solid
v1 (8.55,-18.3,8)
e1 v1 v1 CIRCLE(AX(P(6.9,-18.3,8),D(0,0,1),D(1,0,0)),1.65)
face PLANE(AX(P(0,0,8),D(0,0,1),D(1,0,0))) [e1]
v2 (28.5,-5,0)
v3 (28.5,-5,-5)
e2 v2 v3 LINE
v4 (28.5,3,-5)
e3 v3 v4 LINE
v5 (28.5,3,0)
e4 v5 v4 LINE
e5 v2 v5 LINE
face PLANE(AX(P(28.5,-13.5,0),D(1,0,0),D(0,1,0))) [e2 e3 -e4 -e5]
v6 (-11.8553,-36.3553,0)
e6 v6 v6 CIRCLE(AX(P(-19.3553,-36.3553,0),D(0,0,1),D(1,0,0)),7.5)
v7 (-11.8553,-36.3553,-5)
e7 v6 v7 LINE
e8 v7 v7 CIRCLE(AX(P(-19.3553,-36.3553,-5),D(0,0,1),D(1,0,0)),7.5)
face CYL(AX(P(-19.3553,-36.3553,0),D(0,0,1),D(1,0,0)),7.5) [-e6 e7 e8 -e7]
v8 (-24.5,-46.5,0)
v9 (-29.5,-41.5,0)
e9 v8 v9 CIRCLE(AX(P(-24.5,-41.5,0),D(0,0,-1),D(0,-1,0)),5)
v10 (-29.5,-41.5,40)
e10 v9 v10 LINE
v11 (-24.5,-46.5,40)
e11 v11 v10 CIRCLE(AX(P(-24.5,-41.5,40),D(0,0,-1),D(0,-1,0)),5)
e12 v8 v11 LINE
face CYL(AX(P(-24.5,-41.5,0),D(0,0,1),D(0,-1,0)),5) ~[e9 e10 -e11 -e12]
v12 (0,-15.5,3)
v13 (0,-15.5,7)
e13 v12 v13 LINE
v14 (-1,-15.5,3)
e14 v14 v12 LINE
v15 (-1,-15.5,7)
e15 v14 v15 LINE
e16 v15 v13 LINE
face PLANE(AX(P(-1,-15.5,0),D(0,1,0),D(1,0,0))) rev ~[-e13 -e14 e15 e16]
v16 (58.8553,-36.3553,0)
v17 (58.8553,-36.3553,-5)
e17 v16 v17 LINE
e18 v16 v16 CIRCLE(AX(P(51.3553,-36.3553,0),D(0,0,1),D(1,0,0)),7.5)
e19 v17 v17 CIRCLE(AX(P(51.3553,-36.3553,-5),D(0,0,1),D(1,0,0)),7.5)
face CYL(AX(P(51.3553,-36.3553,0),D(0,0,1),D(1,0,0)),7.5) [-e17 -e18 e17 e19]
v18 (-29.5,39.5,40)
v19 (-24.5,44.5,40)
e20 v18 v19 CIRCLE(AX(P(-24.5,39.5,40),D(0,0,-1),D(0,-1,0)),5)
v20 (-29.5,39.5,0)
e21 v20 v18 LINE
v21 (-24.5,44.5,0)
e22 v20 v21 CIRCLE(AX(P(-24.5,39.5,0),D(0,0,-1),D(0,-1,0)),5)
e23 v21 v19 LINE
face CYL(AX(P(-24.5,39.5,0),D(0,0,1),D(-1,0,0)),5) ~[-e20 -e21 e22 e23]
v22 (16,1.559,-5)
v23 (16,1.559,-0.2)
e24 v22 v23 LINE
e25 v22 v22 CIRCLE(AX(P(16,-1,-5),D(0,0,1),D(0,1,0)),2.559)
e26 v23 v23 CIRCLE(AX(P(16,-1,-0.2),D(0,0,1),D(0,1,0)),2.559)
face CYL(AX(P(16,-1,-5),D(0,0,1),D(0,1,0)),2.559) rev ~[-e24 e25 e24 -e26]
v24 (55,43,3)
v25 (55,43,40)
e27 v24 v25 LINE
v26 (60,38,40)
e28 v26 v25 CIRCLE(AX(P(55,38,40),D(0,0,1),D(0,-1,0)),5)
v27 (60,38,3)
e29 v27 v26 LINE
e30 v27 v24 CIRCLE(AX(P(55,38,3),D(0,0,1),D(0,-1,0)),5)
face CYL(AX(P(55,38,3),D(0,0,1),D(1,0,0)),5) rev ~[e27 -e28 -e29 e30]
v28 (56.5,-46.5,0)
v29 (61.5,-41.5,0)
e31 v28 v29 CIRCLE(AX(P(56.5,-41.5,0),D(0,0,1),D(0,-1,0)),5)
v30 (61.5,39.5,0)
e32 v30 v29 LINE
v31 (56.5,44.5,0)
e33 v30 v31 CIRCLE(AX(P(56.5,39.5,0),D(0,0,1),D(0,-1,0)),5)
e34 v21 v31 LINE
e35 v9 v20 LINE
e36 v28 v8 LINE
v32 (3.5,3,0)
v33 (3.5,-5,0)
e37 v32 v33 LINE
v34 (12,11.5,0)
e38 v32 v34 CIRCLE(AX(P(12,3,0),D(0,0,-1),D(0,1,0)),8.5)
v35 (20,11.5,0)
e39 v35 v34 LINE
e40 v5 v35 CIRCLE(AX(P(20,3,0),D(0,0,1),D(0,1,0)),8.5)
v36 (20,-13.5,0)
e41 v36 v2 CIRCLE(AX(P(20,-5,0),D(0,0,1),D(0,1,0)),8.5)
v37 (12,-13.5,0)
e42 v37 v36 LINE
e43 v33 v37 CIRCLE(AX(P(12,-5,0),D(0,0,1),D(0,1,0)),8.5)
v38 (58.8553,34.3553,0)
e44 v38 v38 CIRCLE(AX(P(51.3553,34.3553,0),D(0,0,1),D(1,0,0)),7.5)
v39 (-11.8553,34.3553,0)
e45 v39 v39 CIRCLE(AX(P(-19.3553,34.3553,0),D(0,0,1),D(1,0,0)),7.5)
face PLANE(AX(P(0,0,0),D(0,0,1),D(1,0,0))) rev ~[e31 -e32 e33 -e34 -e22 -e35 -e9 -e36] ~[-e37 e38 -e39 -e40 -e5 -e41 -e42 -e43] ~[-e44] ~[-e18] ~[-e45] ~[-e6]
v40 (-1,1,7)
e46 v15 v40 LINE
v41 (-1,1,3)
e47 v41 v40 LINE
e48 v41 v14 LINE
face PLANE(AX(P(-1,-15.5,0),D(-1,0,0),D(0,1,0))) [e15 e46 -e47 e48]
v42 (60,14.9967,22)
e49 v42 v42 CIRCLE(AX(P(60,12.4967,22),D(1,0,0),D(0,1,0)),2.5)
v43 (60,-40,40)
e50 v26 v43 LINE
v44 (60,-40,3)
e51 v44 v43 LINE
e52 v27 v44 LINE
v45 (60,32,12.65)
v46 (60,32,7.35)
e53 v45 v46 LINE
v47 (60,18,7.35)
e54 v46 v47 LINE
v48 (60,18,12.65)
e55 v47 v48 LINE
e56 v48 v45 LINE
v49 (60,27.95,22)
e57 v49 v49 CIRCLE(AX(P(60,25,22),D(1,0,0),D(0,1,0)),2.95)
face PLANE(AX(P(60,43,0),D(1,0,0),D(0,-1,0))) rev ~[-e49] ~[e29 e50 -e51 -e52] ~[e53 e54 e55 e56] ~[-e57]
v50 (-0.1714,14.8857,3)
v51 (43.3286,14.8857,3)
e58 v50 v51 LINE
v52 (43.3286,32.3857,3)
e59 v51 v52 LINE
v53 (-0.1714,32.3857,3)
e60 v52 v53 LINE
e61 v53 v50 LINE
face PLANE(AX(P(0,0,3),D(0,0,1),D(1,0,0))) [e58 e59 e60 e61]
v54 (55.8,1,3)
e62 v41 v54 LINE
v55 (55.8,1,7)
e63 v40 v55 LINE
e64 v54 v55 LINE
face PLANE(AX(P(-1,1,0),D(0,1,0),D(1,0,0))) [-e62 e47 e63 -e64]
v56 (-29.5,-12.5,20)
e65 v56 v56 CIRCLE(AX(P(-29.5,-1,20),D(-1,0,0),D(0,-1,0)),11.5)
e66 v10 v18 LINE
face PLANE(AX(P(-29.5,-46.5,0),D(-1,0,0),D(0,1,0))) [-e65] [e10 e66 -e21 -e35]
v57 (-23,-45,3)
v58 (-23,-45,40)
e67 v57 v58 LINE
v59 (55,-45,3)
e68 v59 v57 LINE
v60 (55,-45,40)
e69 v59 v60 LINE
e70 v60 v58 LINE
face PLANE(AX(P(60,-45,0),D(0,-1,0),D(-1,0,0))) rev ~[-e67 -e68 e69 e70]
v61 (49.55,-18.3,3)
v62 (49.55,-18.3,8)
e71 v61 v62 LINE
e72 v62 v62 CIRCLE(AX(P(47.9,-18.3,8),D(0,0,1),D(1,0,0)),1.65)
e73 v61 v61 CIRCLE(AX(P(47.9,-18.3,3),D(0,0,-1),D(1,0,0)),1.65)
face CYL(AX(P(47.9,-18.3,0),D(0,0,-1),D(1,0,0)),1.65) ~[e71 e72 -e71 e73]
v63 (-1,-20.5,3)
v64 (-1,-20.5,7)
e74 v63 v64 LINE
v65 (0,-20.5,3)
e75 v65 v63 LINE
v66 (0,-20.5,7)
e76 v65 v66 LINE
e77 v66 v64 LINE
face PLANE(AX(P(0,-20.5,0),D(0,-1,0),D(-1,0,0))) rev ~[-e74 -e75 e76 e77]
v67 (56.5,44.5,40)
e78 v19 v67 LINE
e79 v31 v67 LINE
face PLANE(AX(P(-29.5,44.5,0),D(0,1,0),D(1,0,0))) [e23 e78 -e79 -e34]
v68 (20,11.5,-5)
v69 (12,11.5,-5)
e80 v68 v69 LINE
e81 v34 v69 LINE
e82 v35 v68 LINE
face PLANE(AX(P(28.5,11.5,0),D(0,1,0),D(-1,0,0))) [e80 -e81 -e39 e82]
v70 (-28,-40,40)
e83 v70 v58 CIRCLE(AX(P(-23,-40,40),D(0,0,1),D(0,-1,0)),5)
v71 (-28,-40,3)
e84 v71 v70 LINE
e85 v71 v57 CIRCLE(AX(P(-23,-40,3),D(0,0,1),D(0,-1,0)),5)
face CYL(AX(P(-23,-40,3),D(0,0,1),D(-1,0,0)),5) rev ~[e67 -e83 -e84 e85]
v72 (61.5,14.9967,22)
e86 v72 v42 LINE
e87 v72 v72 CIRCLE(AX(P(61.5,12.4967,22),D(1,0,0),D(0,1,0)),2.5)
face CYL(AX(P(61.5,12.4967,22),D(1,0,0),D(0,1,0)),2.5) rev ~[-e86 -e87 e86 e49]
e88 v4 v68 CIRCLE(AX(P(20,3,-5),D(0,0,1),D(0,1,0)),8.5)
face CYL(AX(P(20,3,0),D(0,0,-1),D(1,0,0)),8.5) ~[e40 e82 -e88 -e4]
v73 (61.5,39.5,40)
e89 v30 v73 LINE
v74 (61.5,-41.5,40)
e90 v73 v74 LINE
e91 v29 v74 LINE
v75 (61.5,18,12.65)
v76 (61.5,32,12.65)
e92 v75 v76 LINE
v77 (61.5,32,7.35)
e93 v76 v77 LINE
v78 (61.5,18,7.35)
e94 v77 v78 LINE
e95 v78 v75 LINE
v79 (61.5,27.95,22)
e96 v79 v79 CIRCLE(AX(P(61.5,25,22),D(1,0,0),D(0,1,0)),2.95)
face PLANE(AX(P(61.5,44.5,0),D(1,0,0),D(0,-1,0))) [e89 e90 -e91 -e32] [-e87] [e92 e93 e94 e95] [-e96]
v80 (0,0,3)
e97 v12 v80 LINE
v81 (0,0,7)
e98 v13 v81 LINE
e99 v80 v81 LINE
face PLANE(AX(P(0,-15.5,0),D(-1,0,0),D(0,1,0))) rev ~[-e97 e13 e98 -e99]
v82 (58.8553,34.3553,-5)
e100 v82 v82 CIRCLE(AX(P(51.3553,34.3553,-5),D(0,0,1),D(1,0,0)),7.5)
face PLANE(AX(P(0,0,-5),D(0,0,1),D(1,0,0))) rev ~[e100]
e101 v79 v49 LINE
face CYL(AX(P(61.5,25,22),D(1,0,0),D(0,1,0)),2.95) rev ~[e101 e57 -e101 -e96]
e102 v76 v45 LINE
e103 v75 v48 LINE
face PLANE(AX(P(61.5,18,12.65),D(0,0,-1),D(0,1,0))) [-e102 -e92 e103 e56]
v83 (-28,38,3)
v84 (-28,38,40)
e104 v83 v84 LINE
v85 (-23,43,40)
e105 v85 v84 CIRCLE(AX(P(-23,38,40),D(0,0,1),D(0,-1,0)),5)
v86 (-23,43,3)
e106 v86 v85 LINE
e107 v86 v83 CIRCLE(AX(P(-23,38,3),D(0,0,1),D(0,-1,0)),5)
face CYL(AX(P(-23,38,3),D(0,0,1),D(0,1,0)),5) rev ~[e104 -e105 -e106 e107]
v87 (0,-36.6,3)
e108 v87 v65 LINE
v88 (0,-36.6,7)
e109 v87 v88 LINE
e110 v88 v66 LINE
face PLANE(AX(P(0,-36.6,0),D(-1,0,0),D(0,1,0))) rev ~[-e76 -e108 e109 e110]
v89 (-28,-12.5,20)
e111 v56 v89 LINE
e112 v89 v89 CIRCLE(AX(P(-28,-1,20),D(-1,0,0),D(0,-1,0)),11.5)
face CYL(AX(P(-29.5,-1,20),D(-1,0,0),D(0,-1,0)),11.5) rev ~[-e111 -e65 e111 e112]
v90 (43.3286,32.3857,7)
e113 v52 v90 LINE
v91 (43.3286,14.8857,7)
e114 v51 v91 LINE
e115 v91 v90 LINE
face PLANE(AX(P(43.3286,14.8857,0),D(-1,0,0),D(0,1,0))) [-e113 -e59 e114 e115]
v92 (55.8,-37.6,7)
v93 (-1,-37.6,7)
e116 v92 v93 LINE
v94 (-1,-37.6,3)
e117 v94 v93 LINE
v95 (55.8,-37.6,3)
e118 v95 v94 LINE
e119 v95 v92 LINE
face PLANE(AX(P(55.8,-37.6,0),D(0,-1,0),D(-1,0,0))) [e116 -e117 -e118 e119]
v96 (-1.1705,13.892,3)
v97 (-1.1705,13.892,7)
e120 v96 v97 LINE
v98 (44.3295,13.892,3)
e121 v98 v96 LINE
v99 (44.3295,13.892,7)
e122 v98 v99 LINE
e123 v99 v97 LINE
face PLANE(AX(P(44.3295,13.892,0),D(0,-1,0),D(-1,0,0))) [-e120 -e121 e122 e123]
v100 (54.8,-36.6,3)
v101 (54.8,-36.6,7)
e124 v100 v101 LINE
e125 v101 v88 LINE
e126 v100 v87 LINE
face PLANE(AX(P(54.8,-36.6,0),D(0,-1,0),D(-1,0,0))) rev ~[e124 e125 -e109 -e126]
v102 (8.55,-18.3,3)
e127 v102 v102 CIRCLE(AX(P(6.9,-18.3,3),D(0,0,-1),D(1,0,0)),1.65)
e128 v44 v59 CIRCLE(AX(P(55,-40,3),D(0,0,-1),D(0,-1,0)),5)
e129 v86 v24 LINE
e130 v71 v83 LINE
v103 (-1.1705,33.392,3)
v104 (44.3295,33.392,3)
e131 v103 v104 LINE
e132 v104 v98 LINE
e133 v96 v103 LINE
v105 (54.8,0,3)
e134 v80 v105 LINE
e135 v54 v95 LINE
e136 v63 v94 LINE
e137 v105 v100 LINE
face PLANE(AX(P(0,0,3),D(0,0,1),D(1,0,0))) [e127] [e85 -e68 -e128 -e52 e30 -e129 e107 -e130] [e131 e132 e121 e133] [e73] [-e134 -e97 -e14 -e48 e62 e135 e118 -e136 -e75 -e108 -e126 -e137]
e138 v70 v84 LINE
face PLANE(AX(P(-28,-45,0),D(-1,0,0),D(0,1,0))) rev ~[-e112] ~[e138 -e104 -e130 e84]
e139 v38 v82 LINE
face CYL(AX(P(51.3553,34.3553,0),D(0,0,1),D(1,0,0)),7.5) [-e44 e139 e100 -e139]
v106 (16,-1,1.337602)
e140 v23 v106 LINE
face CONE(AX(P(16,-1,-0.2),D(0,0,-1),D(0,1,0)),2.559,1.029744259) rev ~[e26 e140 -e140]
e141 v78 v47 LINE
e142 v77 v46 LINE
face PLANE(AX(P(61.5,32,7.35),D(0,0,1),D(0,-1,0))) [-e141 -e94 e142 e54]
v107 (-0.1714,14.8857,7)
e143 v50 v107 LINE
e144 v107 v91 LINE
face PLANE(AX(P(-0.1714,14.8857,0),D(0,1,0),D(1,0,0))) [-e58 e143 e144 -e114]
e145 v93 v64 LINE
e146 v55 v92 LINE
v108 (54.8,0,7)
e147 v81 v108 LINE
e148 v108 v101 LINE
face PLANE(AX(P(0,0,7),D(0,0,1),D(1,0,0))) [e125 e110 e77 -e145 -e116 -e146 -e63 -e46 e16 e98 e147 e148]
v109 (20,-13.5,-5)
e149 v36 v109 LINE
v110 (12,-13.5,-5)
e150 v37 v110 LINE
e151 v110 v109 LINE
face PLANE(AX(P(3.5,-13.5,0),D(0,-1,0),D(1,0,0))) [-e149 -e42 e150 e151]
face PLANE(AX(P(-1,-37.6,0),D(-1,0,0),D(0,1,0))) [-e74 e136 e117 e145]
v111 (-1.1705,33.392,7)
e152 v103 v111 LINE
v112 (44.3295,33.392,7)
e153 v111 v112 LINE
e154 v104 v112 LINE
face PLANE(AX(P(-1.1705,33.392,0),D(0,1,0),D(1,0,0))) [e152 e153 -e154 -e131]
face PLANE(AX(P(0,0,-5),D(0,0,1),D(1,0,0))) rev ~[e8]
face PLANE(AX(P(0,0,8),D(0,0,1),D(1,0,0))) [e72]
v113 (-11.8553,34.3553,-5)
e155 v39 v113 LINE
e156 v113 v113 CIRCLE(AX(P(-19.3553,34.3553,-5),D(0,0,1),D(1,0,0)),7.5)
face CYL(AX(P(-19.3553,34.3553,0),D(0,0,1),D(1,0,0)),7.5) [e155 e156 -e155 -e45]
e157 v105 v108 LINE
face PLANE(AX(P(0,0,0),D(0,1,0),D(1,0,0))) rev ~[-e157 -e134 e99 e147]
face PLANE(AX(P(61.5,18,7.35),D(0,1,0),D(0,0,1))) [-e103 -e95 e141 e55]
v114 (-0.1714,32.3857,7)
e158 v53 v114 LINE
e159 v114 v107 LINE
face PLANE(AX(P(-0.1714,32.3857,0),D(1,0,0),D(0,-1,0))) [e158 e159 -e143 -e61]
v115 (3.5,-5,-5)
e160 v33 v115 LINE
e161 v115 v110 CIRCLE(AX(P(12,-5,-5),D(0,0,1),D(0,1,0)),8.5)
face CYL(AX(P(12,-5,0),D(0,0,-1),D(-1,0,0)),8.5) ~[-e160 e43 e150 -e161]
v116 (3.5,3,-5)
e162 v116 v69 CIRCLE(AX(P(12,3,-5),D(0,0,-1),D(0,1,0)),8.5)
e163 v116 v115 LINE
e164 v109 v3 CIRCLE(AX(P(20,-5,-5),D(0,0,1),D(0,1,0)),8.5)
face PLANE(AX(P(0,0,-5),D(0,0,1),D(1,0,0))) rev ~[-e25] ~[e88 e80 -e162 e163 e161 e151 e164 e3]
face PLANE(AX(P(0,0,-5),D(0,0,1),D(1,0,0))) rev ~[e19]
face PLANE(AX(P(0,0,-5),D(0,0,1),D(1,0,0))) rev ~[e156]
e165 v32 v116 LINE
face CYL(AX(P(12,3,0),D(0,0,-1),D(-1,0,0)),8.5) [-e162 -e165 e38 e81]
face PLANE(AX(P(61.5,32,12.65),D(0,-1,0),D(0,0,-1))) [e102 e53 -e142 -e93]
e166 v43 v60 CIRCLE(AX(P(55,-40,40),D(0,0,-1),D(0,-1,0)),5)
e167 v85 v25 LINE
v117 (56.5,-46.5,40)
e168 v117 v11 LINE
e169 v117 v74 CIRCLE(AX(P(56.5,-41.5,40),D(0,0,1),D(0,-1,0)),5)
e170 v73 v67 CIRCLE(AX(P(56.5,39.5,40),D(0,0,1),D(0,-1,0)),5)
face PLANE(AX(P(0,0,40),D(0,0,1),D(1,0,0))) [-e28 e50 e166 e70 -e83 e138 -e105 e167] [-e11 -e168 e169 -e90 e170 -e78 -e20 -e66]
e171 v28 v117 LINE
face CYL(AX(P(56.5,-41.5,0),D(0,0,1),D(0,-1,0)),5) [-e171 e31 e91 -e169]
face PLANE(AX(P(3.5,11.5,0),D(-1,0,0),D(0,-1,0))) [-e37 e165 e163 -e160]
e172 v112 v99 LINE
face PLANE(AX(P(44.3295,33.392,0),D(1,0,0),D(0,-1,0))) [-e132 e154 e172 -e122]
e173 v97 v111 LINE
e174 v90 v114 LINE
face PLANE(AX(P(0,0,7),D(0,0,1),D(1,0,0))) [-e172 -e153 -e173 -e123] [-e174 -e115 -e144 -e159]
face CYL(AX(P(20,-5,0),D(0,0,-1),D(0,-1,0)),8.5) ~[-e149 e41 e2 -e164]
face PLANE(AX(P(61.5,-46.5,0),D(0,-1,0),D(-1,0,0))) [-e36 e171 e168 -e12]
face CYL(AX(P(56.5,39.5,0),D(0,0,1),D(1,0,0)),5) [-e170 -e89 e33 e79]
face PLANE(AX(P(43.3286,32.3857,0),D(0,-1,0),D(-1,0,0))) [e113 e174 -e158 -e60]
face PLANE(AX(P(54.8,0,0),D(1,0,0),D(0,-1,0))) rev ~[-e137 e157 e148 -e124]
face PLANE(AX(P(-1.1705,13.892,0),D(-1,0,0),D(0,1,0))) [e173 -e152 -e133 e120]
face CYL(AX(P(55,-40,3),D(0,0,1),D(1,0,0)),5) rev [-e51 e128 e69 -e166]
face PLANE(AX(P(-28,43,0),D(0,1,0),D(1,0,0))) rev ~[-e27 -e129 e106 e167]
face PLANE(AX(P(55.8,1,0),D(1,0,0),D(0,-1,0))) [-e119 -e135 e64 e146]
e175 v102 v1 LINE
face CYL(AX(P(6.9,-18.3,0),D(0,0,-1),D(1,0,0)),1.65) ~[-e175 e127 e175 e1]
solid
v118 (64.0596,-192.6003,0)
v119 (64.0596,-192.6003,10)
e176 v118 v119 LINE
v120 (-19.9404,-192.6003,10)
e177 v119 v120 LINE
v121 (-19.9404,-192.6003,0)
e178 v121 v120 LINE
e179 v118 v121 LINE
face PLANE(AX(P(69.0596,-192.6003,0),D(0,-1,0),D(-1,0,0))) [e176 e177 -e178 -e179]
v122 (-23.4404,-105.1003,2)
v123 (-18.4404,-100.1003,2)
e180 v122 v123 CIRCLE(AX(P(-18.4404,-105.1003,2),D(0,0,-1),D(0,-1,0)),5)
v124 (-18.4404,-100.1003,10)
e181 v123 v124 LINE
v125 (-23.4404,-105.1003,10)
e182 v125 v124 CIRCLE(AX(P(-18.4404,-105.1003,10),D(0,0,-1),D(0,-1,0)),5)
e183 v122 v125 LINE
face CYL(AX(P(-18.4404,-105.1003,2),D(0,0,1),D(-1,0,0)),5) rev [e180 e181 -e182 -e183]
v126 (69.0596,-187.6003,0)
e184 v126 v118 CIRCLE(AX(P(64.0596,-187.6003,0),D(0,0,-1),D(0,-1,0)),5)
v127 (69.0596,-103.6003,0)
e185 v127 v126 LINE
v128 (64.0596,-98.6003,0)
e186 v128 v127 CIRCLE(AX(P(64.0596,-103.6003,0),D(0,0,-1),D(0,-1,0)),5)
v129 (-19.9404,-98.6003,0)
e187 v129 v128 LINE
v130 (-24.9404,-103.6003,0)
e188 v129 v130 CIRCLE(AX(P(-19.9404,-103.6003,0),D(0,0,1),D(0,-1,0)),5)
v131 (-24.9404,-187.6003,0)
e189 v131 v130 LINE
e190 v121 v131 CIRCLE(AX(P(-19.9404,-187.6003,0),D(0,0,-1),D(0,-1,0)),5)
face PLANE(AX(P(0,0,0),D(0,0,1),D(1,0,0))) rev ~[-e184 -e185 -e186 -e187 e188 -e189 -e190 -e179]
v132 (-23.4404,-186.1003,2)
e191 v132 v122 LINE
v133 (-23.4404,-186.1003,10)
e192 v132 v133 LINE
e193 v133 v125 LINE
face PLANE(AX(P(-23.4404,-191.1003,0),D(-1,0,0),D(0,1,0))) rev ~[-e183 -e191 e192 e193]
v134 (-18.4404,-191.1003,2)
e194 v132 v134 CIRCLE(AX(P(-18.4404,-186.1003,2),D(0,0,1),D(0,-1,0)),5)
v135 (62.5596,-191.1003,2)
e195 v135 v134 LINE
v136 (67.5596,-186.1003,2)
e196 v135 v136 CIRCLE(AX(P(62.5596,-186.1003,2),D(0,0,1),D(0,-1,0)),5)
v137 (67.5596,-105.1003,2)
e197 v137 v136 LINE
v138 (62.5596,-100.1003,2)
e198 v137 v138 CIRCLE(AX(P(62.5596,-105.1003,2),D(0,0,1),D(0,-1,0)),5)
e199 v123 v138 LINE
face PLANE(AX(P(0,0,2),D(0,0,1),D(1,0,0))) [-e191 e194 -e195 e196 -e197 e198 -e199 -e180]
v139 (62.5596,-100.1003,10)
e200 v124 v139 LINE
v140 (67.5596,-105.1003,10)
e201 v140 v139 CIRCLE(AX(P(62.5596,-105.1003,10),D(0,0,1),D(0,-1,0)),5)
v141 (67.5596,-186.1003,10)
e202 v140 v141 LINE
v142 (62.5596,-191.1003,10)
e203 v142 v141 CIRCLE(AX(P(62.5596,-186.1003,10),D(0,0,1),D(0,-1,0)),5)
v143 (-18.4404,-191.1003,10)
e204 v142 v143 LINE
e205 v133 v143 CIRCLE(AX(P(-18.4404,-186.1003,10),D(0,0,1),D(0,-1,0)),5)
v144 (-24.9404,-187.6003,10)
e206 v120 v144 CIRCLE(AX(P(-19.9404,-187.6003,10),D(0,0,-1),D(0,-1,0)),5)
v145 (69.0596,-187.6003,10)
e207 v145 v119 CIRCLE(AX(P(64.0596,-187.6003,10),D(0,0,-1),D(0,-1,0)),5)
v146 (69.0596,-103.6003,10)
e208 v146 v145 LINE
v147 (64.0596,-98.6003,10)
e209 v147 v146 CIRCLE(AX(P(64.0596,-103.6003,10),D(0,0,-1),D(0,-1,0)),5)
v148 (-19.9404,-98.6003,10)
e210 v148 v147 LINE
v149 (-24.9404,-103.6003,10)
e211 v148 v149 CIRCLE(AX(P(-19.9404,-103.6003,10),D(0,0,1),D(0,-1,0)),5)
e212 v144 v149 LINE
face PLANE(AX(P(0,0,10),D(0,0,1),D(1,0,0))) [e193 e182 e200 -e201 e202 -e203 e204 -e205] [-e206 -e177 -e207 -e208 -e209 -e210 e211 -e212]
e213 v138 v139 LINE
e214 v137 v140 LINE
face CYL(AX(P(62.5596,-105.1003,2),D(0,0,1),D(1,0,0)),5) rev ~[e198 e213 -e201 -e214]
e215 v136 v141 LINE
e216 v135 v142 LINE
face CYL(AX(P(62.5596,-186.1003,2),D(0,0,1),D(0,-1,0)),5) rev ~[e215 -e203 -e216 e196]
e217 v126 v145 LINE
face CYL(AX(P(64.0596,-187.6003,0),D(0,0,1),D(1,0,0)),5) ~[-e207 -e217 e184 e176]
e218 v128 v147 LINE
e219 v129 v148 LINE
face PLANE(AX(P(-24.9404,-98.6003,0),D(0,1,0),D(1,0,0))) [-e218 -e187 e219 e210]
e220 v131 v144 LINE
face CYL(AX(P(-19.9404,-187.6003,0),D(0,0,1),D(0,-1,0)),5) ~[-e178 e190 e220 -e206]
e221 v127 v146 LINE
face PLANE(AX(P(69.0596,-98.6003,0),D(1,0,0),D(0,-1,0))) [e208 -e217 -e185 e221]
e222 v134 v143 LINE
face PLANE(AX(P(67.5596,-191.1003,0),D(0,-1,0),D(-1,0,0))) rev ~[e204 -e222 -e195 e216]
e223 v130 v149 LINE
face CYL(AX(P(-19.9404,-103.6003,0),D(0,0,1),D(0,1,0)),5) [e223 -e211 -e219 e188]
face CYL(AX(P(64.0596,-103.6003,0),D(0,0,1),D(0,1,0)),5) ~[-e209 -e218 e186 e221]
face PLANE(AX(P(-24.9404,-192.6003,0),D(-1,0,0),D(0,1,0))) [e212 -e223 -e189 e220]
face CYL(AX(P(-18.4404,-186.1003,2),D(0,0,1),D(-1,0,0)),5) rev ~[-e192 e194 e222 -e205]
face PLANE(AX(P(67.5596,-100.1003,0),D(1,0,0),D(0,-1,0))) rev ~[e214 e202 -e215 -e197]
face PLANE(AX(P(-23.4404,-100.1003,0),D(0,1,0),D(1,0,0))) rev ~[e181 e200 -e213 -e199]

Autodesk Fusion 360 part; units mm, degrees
sketch "Sketch1" plane through (0, 0, 0) normal (0, 0, 1) x (1, 0, 0)
  line L0 (0, 0) -> (54.8, 0)
  line L1 (54.8, 0) -> (54.8, -36.6)
  line L2 (54.8, -36.6) -> (0, -36.6)
  line L3 (0, -36.6) -> (0, 0)
  line L4 (-0.1714, 14.8857) -> (43.3286, 14.8857)
  line L5 (43.3286, 14.8857) -> (43.3286, 32.3857)
  line L6 (43.3286, 32.3857) -> (-0.1714, 32.3857)
  line L7 (-0.1714, 32.3857) -> (-0.1714, 14.8857)
  line L8 (44.3295, 13.892) -> (-1.1705, 13.892)
  line L9 (-1.1705, 13.892) -> (-1.1705, 33.392)
  line L10 (-1.1705, 33.392) -> (44.3295, 33.392)
  line L11 (44.3295, 33.392) -> (44.3295, 13.892)
  line L12 (44.3295, 13.892) -> (-1.1705, 33.392) construction
  line L13 (-1.1705, 13.892) -> (44.3295, 33.392) construction
  line L14 (55.8, -37.6) -> (-1, -37.6)
  line L15 (-1, -37.6) -> (-1, 1)
  line L16 (-1, 1) -> (55.8, 1)
  line L17 (55.8, 1) -> (55.8, -37.6)
  line L18 (55.8, -37.6) -> (-1, 1) construction
  line L19 (-1, -37.6) -> (55.8, 1) construction
  line L20 (60, -45) -> (-28, -45)
  line L21 (-28, -45) -> (-28, 43)
  line L22 (-28, 43) -> (60, 43)
  line L23 (60, 43) -> (60, -45)
  line L24 (60, 43) -> (-28, -45) construction
  line L25 (-28, 43) -> (60, -45) construction
  line L26 (61.5, -46.5) -> (-29.5, -46.5)
  line L27 (-29.5, -46.5) -> (-29.5, 44.5)
  line L28 (-29.5, 44.5) -> (61.5, 44.5)
  line L29 (61.5, 44.5) -> (61.5, -46.5)
  line L30 (61.5, -46.5) -> (-29.5, 44.5) construction
  line L31 (-29.5, -46.5) -> (61.5, 44.5) construction
  line L32 (-23.4404, -100.1003) -> (67.5596, -100.1003)
  line L33 (67.5596, -100.1003) -> (67.5596, -191.1003)
  line L34 (67.5596, -191.1003) -> (-23.4404, -191.1003)
  line L35 (-23.4404, -191.1003) -> (-23.4404, -100.1003)
  line L36 (67.5596, -191.1003) -> (-23.4404, -100.1003) construction
  line L37 (-23.4404, -191.1003) -> (67.5596, -100.1003) construction
  line L38 (-24.9404, -98.6003) -> (69.0596, -98.6003)
  line L39 (69.0596, -98.6003) -> (69.0596, -192.6003)
  line L40 (69.0596, -192.6003) -> (-24.9404, -192.6003)
  line L41 (-24.9404, -192.6003) -> (-24.9404, -98.6003)
  line L42 (-24.9404, -98.6003) -> (69.0596, -192.6003) construction
  line L43 (69.0596, -98.6003) -> (-24.9404, -192.6003) construction
  line L44 (6.9, -18.3) -> (47.9, -18.3) construction
  circle A0 centre (47.9, -18.3) radius 1.65
  circle A1 centre (6.9, -18.3) radius 1.65
  line L45 (-1, -15.5) -> (0, -15.5)
  line L46 (0, -15.5) -> (0, -20.5)
  line L47 (0, -20.5) -> (-1, -20.5)
  line L48 (-1, -20.5) -> (-1, -15.5)
  line L49 (-1, -15.5) -> (0, -20.5) construction
  line L50 (0, -15.5) -> (-1, -20.5) construction
  point P0 (21.5795, 23.642)
  point P1 (27.4, -18.3)
  point P2 (16, -1)
  point P3 (22.0596, -145.6003)
  point P4 (22.0596, -145.6003)
  point P5 (-0.5, -18)
  dimension "d1" = 54.8
  dimension "d2" = 36.6
  dimension "d3" = 43.5
  dimension "d4" = 17.5
  dimension "d5" = 45.5
  dimension "d6" = 19.5
  dimension "d7" = 56.8
  dimension "d8" = 38.6
  dimension "d9" = 88
  dimension "d10" = 88
  dimension "d11" = 91
  dimension "d12" = 91
  dimension "d33" = 91
  dimension "d34" = 91
  dimension "d35" = 94
  dimension "d36" = 94
  dimension "d46" = 20.5
  dimension "d47" = 41
  dimension "d48" = 3.3
  dimension "d49" = 3.3
  dimension "d52" = 5
extrude "Extrude1" add sketch "Sketch1" along normal blind 40 contours L26 L27 L28 L29 makes body 1
extrude "Extrude2" add sketch "Sketch1" along normal blind 3 contours L20 L21 L22 L23 bodies 1
extrude "Extrude3" add sketch "Sketch1" along normal blind 7 contours L0 L1 L2 L3 L14 L15 L16 L17 L45 L47 | L8 L9 L10 L11 bodies 1
extrude "Extrude4" add sketch "Sketch1" along normal blind 3 contours L0 L1 L2 L3 L46 | L4 L5 L6 L7 | A0 | A1 bodies 1
sketch "Sketch2" plane through (-29.5, 0, 0) normal (-1, 0, 0) x (0, -1, 0)
  line L0 (-44.5, 0) -> (46.5, 0)
  line L1 (46.5, 0) -> (46.5, 40)
  line L2 (46.5, 40) -> (-44.5, 40)
  line L3 (-44.5, 40) -> (-44.5, 0)
  line L4 (-44.5, 40) -> (46.5, 0) construction
  line L5 (46.5, 40) -> (-44.5, 0) construction
  circle A0 centre (1, 20) radius 11.5
  dimension "d21" = 23
extrude "Extrude5" cut sketch "Sketch2" against normal up to surface (1.5 mm away) contours A0 bodies 1
sketch "Sketch3" plane through (61.5, 0, 0) normal (1, 0, 0) x (0, 1, 0)
  line L0 (-46.5, 0) -> (44.5, 0)
  line L1 (44.5, 0) -> (44.5, 40)
  line L2 (44.5, 40) -> (-46.5, 40)
  line L3 (-46.5, 40) -> (-46.5, 0)
  line L4 (32, 7.35) -> (18, 7.35)
  line L5 (18, 7.35) -> (18, 12.65)
  line L6 (18, 12.65) -> (32, 12.65)
  line L7 (32, 12.65) -> (32, 7.35)
  line L8 (32, 7.35) -> (18, 12.65) construction
  line L9 (18, 7.35) -> (32, 12.65) construction
  circle A0 centre (25, 22) radius 2.95
  circle A1 centre (12.4967, 22) radius 2.5
  point P0 (25, 10)
  dimension "d24" = 14
  dimension "d25" = 5.3
  dimension "d28" = 5.9
  dimension "d43" = 5
extrude "Extrude6" cut sketch "Sketch3" against normal up to surface (1.5 mm away) contours L4 L5 L6 L7 bodies 1
extrude "Extrude7" cut sketch "Sketch3" against normal up to surface (1.5 mm away) contours A0 bodies 1
fillet "Fillet1" radius 5 8 edges at (61.5, 44.5, 20) (60, 43, 21.5) (-28, 43, 21.5) (-29.5, 44.5, 20) (-28, -45, 21.5) (-29.5, -46.5, 20) (61.5, -46.5, 20) (60, -45, 21.5) on bodies 1
extrude "Extrude8" add sketch "Sketch1" along normal blind 2 separate body contours L32 L33 L34 L35 makes body 2
extrude "Extrude9" add sketch "Sketch1" along normal blind 10 contours L38 L39 L40 L41 bodies 2
fillet "Fillet2" radius 5 8 edges at (-23.4404, -191.1003, 6) (-24.9404, -98.6003, 5) (-23.4404, -100.1003, 6) (-24.9404, -192.6003, 5) (67.5596, -191.1003, 6) (69.0596, -192.6003, 5) (69.0596, -98.6003, 5) (67.5596, -100.1003, 6) on bodies 2
extrude "Extrude10" cut sketch "Sketch3" against normal up to surface (1.5 mm away) contours A1 bodies 1
extrude "Extrude11" add sketch "Sketch1" along normal blind 8 contours A0 | A1 bodies 1
extrude "Extrude12" add sketch "Sketch1" along normal up to surface (3 mm away) contours L3 L15 L45 L46 L47 L48 bodies 1
sketch "Sketch4" plane through (0, 0, 0) normal (0, 0, 1) x (1, 0, 0)
  line L0 (3.5, -13.5) -> (28.5, -13.5)
  line L1 (28.5, -13.5) -> (28.5, 11.5)
  line L2 (28.5, 11.5) -> (3.5, 11.5)
  line L3 (3.5, 11.5) -> (3.5, -13.5)
  line L4 (3.5, -13.5) -> (28.5, 11.5) construction
  line L5 (28.5, -13.5) -> (3.5, 11.5) construction
  line L6 (16, -1) -> (-19.3553, 34.3553) construction
  line L7 (16, -1) -> (51.3553, 34.3553) construction
  line L8 (16, -1) -> (-19.3553, -36.3553) construction
  line L9 (16, -1) -> (51.3553, -36.3553) construction
  circle A0 centre (-19.3553, 34.3553) radius 7.5
  circle A1 centre (51.3553, 34.3553) radius 7.5
  circle A2 centre (-19.3553, -36.3553) radius 7.5
  circle A3 centre (51.3553, -36.3553) radius 7.5
  point P0 (16, -1)
  dimension "d55" = 25
  dimension "d56" = 25
  dimension "d57" = 50
  dimension "d58" = 50
  dimension "d59" = 50
  dimension "d60" = 50
  dimension "d61" = 15
  dimension "d62" = 15
  dimension "d63" = 15
  dimension "d64" = 15
extrude "Extrude13" add sketch "Sketch4" against normal blind 5 bodies 1
hole "Hole1" at (16, -1, -5) direction (0, 0, 1) diameter 5.118 depth 4.8 tip angle 118 bodies 1
fillet "Fillet3" radius 8.5 4 edges at (28.5, 11.5, -2.5) (3.5, 11.5, -2.5) (3.5, -13.5, -2.5) (28.5, -13.5, -2.5) on bodies 1
equation "d5 = d3 + 2 mm"
equation "d6 = d4 + 2 mm"
equation "d7 = d1 + 2 mm"
equation "d8 = d2 + 2 mm"
equation "d11 = d10 + 3 mm"
equation "d12 = d9 + 3 mm"
equation "d33 = d12"
equation "d35 = d33 + 3 mm"
equation "d36 = d34 + 3 mm"
